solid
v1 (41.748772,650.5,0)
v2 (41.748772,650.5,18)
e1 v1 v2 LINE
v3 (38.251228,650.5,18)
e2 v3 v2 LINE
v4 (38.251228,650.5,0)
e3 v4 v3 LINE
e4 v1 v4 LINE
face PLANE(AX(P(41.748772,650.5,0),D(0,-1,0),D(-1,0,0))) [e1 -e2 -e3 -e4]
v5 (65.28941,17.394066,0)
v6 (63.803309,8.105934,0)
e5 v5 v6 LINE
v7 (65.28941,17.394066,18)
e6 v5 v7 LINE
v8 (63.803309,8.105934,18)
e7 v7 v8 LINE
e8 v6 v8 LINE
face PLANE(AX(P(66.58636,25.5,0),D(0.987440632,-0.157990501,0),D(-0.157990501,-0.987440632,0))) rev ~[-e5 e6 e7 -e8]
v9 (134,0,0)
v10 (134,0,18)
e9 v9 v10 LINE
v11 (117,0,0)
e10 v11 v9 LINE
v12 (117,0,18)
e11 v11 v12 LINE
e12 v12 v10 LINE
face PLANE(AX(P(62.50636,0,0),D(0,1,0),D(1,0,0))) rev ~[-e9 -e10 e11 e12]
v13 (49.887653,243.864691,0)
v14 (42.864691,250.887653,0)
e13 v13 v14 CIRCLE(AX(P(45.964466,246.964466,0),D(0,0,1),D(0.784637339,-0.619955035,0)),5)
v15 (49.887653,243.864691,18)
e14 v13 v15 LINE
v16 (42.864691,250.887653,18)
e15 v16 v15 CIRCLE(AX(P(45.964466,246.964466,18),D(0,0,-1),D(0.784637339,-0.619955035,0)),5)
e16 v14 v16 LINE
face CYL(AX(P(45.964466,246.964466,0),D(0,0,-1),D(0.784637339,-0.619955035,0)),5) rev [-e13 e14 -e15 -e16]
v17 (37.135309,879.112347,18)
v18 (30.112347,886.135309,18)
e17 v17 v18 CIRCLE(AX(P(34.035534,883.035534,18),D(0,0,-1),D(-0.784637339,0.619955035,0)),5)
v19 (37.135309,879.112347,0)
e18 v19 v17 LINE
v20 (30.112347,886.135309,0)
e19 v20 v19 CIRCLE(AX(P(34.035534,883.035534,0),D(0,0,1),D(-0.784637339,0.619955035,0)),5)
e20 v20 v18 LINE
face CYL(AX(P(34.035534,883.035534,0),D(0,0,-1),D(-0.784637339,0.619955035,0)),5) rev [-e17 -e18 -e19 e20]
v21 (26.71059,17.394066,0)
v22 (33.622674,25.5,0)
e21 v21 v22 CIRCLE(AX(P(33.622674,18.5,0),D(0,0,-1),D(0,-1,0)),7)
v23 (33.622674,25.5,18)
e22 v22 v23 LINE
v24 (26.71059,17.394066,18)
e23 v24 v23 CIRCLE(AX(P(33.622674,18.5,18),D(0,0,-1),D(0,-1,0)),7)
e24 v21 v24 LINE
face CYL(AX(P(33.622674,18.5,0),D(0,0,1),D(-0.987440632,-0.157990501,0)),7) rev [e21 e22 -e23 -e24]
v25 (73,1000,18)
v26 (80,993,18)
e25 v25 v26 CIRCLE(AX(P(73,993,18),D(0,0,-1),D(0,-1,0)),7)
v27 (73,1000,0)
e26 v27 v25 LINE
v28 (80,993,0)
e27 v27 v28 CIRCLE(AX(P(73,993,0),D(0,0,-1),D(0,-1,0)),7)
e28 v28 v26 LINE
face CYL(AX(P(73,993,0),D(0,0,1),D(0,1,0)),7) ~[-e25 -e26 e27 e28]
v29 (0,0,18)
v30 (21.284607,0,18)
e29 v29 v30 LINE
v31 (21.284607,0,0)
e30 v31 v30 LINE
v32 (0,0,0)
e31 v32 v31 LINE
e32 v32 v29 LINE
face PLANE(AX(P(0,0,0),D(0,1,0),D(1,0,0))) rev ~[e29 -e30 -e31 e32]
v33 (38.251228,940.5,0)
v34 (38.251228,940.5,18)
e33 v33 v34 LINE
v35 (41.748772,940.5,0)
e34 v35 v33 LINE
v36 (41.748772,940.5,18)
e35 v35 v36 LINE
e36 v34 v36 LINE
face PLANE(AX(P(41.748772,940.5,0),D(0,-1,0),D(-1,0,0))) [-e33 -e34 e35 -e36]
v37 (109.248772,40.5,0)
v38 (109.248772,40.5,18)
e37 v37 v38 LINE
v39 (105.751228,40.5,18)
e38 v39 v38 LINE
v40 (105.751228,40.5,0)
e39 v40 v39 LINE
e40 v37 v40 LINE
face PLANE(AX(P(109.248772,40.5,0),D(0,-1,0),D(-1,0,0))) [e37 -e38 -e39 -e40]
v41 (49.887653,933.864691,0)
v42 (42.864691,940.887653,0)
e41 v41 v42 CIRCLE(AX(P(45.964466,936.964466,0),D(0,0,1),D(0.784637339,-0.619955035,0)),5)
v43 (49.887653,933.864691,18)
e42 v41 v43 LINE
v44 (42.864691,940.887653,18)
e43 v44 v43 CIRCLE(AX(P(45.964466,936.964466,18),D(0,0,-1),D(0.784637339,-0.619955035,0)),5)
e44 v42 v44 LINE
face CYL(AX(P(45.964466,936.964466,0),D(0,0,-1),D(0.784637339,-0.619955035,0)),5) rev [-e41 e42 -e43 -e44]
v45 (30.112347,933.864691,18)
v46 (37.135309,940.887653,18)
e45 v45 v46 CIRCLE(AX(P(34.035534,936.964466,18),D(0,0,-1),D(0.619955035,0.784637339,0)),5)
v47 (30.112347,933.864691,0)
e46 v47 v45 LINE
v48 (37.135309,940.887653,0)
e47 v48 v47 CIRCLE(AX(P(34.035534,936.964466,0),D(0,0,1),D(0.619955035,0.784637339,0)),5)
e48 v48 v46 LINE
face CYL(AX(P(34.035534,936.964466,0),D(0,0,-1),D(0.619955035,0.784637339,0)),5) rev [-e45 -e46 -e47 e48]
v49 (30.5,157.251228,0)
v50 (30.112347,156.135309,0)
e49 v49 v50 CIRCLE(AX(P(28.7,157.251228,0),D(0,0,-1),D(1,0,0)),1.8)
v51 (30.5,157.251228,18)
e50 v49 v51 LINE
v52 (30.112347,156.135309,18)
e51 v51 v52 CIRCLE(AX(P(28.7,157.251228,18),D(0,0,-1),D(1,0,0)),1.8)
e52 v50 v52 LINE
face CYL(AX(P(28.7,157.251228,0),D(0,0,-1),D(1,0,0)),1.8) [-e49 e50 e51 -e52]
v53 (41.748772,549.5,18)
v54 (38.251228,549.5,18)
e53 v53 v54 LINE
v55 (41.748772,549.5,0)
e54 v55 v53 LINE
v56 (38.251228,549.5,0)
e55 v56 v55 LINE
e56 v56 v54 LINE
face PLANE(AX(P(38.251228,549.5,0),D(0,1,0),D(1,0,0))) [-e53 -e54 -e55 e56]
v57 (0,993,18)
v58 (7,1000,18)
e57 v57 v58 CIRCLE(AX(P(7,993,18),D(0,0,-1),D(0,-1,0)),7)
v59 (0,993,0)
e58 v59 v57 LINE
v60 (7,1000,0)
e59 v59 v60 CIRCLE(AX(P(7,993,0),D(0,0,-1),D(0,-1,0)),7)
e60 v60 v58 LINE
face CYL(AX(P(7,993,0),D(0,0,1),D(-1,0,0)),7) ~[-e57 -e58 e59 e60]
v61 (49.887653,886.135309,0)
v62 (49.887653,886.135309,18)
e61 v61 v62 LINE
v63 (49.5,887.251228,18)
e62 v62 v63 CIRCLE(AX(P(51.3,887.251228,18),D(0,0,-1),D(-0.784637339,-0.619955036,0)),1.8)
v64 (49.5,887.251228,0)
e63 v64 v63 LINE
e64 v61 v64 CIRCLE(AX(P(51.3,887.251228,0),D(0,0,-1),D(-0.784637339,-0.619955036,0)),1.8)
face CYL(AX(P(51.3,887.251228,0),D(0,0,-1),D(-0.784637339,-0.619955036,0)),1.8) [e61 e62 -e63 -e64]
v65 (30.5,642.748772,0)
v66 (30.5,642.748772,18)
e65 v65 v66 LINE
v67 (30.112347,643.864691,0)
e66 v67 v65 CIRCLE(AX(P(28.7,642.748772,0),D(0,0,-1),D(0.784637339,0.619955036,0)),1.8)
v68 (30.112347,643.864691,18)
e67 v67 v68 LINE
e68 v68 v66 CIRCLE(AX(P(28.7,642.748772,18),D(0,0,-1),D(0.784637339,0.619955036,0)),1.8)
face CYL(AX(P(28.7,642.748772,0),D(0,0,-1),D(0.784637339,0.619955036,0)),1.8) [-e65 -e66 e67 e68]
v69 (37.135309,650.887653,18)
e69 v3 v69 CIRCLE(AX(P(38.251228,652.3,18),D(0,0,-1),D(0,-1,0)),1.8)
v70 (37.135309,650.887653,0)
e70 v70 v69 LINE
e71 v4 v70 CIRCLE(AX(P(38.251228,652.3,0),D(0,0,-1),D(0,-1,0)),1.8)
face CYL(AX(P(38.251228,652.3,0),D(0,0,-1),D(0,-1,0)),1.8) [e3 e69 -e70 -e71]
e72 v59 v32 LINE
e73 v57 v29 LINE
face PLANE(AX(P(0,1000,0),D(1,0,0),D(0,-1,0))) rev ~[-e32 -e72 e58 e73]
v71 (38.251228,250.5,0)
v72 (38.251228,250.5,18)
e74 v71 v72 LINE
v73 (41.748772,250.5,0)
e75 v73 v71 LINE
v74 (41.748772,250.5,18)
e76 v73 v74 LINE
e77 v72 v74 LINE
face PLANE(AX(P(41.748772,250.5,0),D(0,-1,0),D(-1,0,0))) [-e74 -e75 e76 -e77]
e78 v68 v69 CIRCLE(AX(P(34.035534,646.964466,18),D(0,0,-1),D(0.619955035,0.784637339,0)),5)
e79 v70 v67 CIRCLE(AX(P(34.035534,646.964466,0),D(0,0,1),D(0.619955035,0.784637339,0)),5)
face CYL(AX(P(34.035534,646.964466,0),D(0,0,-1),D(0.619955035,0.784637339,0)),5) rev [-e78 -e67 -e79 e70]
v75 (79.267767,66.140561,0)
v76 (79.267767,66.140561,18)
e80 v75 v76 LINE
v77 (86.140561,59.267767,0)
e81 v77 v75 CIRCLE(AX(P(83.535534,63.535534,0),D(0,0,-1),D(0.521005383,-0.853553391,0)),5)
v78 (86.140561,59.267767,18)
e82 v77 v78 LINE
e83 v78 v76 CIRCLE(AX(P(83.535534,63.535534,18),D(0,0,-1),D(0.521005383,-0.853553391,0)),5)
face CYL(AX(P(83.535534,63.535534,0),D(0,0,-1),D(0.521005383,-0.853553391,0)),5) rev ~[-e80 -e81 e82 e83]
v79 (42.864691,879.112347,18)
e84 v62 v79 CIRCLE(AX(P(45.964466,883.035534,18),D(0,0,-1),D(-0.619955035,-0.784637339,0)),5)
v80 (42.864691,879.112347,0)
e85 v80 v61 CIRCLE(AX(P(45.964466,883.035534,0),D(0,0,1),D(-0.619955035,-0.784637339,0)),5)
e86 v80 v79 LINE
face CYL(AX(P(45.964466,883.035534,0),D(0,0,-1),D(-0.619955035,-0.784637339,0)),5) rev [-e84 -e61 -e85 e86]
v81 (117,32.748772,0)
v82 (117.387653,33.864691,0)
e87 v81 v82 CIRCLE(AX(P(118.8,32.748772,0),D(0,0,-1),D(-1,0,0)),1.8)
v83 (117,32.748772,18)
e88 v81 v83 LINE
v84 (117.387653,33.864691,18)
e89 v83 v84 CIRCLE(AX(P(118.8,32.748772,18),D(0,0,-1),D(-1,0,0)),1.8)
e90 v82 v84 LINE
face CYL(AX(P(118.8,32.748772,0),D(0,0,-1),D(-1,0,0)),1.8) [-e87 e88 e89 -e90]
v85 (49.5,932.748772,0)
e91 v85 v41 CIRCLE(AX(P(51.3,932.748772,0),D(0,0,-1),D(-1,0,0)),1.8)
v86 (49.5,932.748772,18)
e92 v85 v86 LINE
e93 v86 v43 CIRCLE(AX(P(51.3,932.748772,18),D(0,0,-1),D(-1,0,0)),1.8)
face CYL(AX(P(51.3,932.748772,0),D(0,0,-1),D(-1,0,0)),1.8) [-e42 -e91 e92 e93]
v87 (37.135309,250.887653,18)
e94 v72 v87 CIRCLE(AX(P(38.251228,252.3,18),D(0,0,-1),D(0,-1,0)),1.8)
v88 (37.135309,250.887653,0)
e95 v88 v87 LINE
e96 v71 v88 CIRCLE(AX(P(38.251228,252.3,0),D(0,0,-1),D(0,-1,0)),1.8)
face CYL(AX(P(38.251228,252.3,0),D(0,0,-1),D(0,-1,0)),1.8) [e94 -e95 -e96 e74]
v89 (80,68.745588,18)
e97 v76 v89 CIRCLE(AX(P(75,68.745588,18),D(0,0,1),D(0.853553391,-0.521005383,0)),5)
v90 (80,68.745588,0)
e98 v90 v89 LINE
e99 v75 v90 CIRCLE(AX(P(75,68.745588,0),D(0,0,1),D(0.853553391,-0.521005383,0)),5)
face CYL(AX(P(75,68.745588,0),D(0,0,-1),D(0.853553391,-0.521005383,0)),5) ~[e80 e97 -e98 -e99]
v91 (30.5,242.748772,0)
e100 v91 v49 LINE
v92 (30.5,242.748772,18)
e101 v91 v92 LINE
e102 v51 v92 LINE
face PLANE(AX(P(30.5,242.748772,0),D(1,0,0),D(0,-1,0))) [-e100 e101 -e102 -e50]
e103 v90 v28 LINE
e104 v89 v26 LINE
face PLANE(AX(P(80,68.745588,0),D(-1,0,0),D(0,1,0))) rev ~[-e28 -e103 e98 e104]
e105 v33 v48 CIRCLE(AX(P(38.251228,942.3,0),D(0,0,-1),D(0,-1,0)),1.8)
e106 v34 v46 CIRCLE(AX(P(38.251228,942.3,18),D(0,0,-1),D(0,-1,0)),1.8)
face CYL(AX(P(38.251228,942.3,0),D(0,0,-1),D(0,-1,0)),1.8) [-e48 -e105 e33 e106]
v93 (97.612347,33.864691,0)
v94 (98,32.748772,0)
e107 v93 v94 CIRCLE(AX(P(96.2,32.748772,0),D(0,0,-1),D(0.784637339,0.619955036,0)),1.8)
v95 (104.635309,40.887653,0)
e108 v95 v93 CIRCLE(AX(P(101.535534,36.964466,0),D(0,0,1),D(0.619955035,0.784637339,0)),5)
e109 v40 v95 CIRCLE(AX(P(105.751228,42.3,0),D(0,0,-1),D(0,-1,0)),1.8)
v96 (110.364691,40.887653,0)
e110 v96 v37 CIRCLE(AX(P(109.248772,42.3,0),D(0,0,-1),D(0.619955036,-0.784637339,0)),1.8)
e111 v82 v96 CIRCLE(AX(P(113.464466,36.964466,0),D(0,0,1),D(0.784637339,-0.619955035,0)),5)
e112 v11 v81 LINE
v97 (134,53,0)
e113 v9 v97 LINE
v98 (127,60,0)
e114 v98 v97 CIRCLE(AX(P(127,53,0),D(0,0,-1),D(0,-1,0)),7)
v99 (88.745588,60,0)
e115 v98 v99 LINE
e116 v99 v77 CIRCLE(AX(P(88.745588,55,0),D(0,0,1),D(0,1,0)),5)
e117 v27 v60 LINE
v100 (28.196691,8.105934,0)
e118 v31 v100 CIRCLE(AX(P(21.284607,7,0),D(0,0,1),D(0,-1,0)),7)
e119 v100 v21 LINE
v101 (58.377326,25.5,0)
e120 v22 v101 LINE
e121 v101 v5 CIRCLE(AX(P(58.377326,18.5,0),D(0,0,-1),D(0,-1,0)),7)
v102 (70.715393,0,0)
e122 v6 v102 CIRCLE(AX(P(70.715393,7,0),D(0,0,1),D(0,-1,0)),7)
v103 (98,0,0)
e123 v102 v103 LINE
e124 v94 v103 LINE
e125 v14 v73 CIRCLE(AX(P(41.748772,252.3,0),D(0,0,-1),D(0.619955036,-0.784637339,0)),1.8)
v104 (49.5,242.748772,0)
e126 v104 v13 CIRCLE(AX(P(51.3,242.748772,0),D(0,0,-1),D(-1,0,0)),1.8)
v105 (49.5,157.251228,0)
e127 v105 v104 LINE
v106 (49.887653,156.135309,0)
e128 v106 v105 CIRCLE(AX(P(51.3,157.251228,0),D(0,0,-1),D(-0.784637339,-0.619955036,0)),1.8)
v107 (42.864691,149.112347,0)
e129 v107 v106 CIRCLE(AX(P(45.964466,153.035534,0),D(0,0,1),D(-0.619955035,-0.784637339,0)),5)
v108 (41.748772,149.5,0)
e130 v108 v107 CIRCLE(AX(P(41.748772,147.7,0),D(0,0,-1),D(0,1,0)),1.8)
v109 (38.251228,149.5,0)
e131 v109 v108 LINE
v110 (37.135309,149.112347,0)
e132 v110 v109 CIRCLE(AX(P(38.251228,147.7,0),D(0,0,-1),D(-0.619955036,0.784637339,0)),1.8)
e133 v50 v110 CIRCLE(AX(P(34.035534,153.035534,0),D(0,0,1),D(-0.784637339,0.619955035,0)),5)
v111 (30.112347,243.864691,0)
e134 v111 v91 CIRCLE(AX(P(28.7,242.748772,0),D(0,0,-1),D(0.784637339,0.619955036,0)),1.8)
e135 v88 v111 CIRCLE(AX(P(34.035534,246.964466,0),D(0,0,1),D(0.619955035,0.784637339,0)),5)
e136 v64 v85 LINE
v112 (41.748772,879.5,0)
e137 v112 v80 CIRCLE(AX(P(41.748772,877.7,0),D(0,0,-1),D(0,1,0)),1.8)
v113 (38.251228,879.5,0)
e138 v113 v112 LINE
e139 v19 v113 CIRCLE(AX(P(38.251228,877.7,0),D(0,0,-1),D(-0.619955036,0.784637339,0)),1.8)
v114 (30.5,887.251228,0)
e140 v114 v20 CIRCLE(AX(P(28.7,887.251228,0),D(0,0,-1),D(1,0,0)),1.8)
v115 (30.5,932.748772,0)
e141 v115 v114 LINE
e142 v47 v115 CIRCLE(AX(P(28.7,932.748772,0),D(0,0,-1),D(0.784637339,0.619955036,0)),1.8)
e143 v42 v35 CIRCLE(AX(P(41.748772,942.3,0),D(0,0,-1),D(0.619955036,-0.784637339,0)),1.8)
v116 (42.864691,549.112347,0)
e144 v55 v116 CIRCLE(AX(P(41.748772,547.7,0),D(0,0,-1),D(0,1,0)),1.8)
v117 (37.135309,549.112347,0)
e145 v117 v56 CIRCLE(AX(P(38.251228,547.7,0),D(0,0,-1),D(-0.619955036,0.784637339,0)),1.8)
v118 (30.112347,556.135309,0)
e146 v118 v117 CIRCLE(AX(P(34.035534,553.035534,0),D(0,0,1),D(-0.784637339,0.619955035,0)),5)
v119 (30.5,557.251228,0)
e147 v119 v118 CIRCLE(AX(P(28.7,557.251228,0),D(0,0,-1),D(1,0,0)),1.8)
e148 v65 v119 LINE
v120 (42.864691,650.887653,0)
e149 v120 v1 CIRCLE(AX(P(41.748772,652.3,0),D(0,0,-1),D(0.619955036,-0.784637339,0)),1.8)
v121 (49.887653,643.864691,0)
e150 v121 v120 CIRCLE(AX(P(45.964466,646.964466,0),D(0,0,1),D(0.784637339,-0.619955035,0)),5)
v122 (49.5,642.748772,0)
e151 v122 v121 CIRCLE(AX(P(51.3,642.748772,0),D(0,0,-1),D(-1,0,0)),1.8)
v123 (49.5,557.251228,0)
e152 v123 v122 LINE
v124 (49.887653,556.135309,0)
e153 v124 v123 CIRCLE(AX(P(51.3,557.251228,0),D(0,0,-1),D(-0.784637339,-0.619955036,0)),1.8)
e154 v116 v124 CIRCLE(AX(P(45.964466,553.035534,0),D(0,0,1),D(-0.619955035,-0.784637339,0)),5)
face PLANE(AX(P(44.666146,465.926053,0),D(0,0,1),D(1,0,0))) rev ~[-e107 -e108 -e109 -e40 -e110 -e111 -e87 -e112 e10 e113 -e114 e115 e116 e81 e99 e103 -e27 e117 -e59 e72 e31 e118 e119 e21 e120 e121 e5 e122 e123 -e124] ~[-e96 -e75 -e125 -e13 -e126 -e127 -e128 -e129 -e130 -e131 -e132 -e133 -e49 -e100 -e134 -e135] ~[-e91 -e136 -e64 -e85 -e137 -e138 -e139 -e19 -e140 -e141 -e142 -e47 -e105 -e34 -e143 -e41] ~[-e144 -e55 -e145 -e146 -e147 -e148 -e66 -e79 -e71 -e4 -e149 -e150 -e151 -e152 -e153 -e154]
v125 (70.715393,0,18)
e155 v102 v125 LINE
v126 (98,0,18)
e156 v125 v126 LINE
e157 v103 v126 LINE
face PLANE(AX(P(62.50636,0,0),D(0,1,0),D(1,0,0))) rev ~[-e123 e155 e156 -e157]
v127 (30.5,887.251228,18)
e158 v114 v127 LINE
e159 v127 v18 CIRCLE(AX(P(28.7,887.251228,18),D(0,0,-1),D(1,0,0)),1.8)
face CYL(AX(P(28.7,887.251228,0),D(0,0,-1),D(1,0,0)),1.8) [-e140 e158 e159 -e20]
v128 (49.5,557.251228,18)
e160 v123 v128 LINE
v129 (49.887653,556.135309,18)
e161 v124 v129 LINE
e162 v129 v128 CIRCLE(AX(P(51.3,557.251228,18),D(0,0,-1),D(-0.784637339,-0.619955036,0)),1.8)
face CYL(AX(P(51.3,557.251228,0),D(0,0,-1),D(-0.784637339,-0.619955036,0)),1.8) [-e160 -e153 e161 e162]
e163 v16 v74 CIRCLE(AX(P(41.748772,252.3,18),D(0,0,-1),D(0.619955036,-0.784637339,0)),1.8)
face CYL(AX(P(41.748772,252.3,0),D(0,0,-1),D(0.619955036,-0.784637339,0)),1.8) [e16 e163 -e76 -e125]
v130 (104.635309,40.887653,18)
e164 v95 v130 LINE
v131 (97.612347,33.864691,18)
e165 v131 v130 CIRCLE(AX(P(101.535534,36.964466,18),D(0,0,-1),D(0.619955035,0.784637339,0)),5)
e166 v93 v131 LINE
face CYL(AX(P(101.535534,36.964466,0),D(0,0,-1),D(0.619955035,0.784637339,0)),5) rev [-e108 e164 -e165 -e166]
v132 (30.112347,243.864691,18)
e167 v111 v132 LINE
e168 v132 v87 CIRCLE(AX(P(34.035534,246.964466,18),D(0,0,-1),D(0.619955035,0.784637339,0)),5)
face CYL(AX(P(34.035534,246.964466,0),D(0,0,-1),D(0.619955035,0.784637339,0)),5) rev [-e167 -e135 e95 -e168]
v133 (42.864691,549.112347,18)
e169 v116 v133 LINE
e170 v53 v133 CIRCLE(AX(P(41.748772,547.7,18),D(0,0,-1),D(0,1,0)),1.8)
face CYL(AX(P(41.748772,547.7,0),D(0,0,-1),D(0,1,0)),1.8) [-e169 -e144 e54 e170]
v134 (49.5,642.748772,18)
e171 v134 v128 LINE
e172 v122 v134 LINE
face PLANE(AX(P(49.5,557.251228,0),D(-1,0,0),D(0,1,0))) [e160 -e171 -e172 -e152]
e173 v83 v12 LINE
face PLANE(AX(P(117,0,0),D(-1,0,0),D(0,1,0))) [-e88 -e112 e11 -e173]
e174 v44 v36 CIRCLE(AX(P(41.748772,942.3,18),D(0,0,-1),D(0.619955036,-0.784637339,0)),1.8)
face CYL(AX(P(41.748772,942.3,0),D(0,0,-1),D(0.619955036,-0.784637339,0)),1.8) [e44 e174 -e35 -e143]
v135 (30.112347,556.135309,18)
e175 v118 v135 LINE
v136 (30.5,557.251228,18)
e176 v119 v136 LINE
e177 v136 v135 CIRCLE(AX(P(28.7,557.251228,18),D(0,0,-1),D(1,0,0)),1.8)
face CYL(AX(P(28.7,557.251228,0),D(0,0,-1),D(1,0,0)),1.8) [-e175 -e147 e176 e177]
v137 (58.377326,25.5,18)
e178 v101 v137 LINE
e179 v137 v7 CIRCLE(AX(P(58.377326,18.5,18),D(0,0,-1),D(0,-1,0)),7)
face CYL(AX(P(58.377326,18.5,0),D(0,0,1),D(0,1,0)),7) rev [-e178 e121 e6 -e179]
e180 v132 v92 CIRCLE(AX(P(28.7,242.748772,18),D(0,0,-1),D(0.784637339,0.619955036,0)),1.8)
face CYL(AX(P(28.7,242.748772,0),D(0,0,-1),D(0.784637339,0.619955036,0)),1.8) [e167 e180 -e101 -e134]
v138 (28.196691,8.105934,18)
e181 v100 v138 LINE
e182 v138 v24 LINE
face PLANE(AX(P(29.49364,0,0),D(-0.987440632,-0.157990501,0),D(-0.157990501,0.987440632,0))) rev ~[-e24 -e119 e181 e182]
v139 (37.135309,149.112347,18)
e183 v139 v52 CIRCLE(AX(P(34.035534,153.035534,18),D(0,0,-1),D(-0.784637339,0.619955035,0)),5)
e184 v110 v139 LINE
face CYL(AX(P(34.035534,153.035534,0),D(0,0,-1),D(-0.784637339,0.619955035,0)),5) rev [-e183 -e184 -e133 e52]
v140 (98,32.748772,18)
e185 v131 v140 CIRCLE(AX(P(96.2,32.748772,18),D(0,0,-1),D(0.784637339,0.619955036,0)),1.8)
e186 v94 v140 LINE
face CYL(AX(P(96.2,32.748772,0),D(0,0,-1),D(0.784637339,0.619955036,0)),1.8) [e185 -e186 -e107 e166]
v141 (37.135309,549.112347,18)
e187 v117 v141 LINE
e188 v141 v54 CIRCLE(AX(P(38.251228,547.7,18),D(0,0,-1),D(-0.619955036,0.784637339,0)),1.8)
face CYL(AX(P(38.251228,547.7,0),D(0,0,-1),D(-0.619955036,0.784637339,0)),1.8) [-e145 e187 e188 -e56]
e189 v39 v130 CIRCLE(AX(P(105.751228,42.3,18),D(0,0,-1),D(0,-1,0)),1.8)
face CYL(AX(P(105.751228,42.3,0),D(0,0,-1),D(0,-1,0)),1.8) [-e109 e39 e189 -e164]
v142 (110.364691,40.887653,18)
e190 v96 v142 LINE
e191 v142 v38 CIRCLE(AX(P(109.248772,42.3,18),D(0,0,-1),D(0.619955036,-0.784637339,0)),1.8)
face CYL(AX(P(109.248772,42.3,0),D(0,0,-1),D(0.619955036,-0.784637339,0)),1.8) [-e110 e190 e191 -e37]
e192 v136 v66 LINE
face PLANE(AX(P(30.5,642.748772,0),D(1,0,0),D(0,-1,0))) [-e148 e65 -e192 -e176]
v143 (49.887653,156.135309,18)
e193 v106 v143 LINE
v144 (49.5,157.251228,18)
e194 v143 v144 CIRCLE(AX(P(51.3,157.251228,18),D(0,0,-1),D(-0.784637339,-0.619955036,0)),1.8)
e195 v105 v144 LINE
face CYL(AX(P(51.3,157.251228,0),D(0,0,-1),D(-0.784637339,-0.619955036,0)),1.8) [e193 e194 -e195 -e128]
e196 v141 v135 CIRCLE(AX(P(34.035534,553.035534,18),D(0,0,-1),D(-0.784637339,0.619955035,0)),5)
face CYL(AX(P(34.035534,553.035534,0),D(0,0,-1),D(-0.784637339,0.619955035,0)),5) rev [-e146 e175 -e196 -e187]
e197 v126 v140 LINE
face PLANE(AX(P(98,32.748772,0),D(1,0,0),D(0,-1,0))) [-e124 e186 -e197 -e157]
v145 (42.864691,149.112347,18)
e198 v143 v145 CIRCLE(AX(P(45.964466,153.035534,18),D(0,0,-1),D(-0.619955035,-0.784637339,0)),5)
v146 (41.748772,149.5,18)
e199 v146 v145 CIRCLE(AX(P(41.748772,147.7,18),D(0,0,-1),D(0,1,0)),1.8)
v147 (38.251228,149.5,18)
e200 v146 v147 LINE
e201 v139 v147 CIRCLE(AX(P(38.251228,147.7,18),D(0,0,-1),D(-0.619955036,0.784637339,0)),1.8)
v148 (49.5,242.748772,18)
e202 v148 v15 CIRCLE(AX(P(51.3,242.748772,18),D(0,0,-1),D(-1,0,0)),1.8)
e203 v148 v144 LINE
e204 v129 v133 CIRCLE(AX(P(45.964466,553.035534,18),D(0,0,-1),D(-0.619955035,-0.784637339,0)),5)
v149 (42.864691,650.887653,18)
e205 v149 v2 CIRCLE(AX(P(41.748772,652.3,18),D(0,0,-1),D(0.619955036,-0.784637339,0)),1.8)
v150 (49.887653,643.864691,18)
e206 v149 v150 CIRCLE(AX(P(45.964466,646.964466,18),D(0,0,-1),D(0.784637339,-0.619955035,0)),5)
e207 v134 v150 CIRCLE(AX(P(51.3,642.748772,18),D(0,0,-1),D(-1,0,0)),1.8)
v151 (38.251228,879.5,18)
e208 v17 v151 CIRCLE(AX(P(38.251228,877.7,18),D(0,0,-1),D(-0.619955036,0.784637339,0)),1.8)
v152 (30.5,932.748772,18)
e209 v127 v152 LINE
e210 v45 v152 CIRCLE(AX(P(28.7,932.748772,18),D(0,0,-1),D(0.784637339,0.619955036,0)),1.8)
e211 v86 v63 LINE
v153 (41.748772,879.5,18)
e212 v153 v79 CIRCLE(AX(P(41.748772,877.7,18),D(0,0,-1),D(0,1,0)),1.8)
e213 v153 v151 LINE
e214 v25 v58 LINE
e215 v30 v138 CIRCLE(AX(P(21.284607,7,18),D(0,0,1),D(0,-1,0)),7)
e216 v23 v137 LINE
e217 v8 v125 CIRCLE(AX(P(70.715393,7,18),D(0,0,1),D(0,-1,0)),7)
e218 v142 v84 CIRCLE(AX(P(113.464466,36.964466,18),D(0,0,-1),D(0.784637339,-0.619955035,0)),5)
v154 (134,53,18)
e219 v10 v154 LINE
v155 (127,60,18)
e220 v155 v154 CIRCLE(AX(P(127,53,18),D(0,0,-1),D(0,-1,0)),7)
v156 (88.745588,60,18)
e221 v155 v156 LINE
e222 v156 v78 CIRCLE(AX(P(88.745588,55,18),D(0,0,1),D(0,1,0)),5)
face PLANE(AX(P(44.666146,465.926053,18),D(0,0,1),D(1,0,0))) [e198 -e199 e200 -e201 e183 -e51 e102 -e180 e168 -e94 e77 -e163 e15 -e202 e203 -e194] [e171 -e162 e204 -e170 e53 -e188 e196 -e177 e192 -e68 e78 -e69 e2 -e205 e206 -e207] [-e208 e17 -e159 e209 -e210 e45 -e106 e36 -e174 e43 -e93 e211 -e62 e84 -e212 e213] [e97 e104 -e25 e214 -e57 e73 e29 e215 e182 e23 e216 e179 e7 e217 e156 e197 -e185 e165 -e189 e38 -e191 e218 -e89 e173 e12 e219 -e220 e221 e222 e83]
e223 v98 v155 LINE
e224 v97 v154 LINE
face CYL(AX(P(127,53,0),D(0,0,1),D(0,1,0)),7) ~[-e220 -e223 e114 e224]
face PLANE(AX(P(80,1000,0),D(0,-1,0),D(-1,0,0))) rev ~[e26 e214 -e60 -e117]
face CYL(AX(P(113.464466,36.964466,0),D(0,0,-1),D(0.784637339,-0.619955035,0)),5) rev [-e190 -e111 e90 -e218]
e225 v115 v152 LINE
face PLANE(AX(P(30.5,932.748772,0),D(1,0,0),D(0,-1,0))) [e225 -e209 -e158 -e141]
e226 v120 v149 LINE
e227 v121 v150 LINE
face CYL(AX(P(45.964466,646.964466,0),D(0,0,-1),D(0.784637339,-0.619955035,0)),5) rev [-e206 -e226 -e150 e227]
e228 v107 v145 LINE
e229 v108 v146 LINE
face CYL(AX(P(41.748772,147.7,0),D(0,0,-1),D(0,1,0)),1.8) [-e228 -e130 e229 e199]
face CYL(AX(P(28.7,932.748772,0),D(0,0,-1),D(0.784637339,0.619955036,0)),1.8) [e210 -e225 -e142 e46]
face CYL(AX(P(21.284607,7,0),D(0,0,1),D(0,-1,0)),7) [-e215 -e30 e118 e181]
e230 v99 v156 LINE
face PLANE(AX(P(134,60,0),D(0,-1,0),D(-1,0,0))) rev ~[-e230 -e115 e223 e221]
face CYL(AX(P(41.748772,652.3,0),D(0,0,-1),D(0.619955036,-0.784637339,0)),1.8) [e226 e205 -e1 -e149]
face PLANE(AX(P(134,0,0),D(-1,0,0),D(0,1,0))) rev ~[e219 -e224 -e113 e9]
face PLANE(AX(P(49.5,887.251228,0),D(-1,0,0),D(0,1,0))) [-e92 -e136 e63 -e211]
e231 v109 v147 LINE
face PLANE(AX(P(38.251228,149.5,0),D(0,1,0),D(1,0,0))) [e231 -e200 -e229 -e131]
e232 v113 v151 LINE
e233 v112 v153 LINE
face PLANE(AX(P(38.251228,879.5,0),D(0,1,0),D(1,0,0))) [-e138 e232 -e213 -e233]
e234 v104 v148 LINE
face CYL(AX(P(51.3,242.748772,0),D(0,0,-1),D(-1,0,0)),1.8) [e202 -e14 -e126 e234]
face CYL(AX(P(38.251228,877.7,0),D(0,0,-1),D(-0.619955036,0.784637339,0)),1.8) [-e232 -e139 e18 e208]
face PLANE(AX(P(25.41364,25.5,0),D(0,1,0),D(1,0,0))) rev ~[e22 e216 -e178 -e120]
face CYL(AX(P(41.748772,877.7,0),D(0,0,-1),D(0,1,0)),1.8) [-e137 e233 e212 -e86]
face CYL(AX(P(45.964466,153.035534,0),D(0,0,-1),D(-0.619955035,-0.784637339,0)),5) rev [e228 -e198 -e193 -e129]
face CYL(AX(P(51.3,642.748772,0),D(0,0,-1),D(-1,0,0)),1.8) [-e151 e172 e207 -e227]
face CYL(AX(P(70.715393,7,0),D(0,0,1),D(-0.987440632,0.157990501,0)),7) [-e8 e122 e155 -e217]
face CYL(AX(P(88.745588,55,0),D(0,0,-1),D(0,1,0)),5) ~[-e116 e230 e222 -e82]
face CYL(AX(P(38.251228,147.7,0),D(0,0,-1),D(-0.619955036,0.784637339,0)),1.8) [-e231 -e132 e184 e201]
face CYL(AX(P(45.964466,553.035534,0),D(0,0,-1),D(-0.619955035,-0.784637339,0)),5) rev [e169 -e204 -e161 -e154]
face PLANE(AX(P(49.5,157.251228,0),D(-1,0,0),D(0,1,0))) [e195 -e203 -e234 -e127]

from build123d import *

# Parameters (mm, degrees)
BOSS_EXTRUDE1_DEPTH = 18
CUT_EXTRUDE1_DEPTH  = 19
CUT_EXTRUDE2_DEPTH  = 19
CUT_EXTRUDE3_DEPTH  = 19
LPATTERN1_COUNT     = 2
LPATTERN1_PITCH     = 400
FILLET1_R           = 7


with BuildPart() as part:
    # Sketch1 → Boss-Extrude1 (new body)
    with BuildSketch(Plane.XY):
        with BuildLine():
            Line((0, 0), (29.493640444, 0))
            Line((29.493640444, 0), (25.413640444, 25.5))
            Line((25.413640444, 25.5), (66.586359556, 25.5))
            Line((66.586359556, 25.5), (62.506359556, 0))
            Line((62.506359556, 0), (134, 0))
            Line((134, 0), (134, 60))
            Line((134, 60), (88.745587739, 60))
            ThreePointArc((88.745587739, 60), (87.392597488, 59.813462099), (86.140560822, 59.267766953))
            ThreePointArc((86.140560822, 59.267766953), (80, 60), (79.267766953, 66.140560822))
            ThreePointArc((79.267766953, 66.140560822), (79.813462099, 67.392597488), (80, 68.745587739))
            Line((80, 68.745587739), (80, 1000))
            Line((80, 1000), (0, 1000))
            Line((0, 1000), (0, 0))
        make_face()
    extrude(amount=BOSS_EXTRUDE1_DEPTH)

    # Sketch2 → Cut-Extrude1 (cut, through all)
    with BuildSketch(Plane.XY):
        with BuildLine():
            Line((30.5, 642.748771852), (30.5, 557.251228148))
            ThreePointArc((30.5, 557.251228148), (30.400327171, 556.660561143), (30.11234721, 556.135309084))
            ThreePointArc((30.11234721, 556.135309084), (30.5, 549.5), (37.135309084, 549.11234721))
            ThreePointArc((37.135309084, 549.11234721), (37.660561143, 549.400327171), (38.251228148, 549.5))
            Line((38.251228148, 549.5), (41.748771852, 549.5))
            ThreePointArc((41.748771852, 549.5), (42.339438857, 549.400327171), (42.864690916, 549.11234721))
            ThreePointArc((42.864690916, 549.11234721), (49.5, 549.5), (49.88765279, 556.135309084))
            ThreePointArc((49.88765279, 556.135309084), (49.599672829, 556.660561143), (49.5, 557.251228148))
            Line((49.5, 557.251228148), (49.5, 642.748771852))
            ThreePointArc((49.5, 642.748771852), (49.599672829, 643.339438857), (49.88765279, 643.864690916))
            ThreePointArc((49.88765279, 643.864690916), (49.5, 650.5), (42.864690916, 650.88765279))
            ThreePointArc((42.864690916, 650.88765279), (42.339438857, 650.599672829), (41.748771852, 650.5))
            Line((41.748771852, 650.5), (38.251228148, 650.5))
            ThreePointArc((38.251228148, 650.5), (37.660561143, 650.599672829), (37.135309084, 650.88765279))
            ThreePointArc((37.135309084, 650.88765279), (30.5, 650.5), (30.11234721, 643.864690916))
            ThreePointArc((30.11234721, 643.864690916), (30.400327171, 643.339438857), (30.5, 642.748771852))
        make_face()
    cut_extrude1 = extrude(amount=CUT_EXTRUDE1_DEPTH, mode=Mode.SUBTRACT)

    # Sketch3 → Cut-Extrude2 (cut, through all)
    with BuildSketch(Plane.XY):
        with BuildLine():
            Line((98, 0), (117, 0))
            Line((117, 0), (117, 32.748771852))
            ThreePointArc((117, 32.748771852), (117.099672829, 33.339438857), (117.38765279, 33.864690916))
            ThreePointArc((117.38765279, 33.864690916), (117, 40.5), (110.364690916, 40.88765279))
            ThreePointArc((110.364690916, 40.88765279), (109.839438857, 40.599672829), (109.248771852, 40.5))
            Line((109.248771852, 40.5), (105.751228148, 40.5))
            ThreePointArc((105.751228148, 40.5), (105.160561143, 40.599672829), (104.635309084, 40.88765279))
            ThreePointArc((104.635309084, 40.88765279), (98, 40.5), (97.61234721, 33.864690916))
            ThreePointArc((97.61234721, 33.864690916), (97.900327171, 33.339438857), (98, 32.748771852))
            Line((98, 32.748771852), (98, 0))
        make_face()
    extrude(amount=CUT_EXTRUDE2_DEPTH, mode=Mode.SUBTRACT)

    # Sketch4 → Cut-Extrude3 (cut, through all)
    with BuildSketch(Plane.XY):
        with BuildLine():
            Line((30.5, 932.748771852), (30.5, 887.251228148))
            ThreePointArc((30.5, 887.251228148), (30.400327171, 886.660561143), (30.11234721, 886.135309084))
            ThreePointArc((30.11234721, 886.135309084), (30.5, 879.5), (37.135309084, 879.11234721))
            ThreePointArc((37.135309084, 879.11234721), (37.660561143, 879.400327171), (38.251228148, 879.5))
            Line((38.251228148, 879.5), (41.748771852, 879.5))
            ThreePointArc((41.748771852, 879.5), (42.339438857, 879.400327171), (42.864690916, 879.11234721))
            ThreePointArc((42.864690916, 879.11234721), (49.5, 879.5), (49.88765279, 886.135309084))
            ThreePointArc((49.88765279, 886.135309084), (49.599672829, 886.660561143), (49.5, 887.251228148))
            Line((49.5, 887.251228148), (49.5, 932.748771852))
            ThreePointArc((49.5, 932.748771852), (49.599672829, 933.339438857), (49.88765279, 933.864690916))
            ThreePointArc((49.88765279, 933.864690916), (49.5, 940.5), (42.864690916, 940.88765279))
            ThreePointArc((42.864690916, 940.88765279), (42.339438857, 940.599672829), (41.748771852, 940.5))
            Line((41.748771852, 940.5), (38.251228148, 940.5))
            ThreePointArc((38.251228148, 940.5), (37.660561143, 940.599672829), (37.135309084, 940.88765279))
            ThreePointArc((37.135309084, 940.88765279), (30.5, 940.5), (30.11234721, 933.864690916))
            ThreePointArc((30.11234721, 933.864690916), (30.400327171, 933.339438857), (30.5, 932.748771852))
        make_face()
    extrude(amount=CUT_EXTRUDE3_DEPTH, mode=Mode.SUBTRACT)

    # LPattern1: Cut-Extrude1 ×2
    with Locations(*[(0, -i * LPATTERN1_PITCH, 0) for i in range(1, LPATTERN1_COUNT)]):
        add(cut_extrude1, mode=Mode.SUBTRACT)

    # Fillet1
    fillet1_edges = [part.edges().sort_by_distance(p)[0] for p in [
        (29.493640444, 0, 9),
        (25.413640444, 25.5, 9),
        (66.586359556, 25.5, 9),
        (62.506359556, 0, 9),
        (134, 60, 9),
        (80, 1000, 9),
        (0, 1000, 9),
    ]]
    fillet(fillet1_edges, radius=FILLET1_R)


solid = part.part
